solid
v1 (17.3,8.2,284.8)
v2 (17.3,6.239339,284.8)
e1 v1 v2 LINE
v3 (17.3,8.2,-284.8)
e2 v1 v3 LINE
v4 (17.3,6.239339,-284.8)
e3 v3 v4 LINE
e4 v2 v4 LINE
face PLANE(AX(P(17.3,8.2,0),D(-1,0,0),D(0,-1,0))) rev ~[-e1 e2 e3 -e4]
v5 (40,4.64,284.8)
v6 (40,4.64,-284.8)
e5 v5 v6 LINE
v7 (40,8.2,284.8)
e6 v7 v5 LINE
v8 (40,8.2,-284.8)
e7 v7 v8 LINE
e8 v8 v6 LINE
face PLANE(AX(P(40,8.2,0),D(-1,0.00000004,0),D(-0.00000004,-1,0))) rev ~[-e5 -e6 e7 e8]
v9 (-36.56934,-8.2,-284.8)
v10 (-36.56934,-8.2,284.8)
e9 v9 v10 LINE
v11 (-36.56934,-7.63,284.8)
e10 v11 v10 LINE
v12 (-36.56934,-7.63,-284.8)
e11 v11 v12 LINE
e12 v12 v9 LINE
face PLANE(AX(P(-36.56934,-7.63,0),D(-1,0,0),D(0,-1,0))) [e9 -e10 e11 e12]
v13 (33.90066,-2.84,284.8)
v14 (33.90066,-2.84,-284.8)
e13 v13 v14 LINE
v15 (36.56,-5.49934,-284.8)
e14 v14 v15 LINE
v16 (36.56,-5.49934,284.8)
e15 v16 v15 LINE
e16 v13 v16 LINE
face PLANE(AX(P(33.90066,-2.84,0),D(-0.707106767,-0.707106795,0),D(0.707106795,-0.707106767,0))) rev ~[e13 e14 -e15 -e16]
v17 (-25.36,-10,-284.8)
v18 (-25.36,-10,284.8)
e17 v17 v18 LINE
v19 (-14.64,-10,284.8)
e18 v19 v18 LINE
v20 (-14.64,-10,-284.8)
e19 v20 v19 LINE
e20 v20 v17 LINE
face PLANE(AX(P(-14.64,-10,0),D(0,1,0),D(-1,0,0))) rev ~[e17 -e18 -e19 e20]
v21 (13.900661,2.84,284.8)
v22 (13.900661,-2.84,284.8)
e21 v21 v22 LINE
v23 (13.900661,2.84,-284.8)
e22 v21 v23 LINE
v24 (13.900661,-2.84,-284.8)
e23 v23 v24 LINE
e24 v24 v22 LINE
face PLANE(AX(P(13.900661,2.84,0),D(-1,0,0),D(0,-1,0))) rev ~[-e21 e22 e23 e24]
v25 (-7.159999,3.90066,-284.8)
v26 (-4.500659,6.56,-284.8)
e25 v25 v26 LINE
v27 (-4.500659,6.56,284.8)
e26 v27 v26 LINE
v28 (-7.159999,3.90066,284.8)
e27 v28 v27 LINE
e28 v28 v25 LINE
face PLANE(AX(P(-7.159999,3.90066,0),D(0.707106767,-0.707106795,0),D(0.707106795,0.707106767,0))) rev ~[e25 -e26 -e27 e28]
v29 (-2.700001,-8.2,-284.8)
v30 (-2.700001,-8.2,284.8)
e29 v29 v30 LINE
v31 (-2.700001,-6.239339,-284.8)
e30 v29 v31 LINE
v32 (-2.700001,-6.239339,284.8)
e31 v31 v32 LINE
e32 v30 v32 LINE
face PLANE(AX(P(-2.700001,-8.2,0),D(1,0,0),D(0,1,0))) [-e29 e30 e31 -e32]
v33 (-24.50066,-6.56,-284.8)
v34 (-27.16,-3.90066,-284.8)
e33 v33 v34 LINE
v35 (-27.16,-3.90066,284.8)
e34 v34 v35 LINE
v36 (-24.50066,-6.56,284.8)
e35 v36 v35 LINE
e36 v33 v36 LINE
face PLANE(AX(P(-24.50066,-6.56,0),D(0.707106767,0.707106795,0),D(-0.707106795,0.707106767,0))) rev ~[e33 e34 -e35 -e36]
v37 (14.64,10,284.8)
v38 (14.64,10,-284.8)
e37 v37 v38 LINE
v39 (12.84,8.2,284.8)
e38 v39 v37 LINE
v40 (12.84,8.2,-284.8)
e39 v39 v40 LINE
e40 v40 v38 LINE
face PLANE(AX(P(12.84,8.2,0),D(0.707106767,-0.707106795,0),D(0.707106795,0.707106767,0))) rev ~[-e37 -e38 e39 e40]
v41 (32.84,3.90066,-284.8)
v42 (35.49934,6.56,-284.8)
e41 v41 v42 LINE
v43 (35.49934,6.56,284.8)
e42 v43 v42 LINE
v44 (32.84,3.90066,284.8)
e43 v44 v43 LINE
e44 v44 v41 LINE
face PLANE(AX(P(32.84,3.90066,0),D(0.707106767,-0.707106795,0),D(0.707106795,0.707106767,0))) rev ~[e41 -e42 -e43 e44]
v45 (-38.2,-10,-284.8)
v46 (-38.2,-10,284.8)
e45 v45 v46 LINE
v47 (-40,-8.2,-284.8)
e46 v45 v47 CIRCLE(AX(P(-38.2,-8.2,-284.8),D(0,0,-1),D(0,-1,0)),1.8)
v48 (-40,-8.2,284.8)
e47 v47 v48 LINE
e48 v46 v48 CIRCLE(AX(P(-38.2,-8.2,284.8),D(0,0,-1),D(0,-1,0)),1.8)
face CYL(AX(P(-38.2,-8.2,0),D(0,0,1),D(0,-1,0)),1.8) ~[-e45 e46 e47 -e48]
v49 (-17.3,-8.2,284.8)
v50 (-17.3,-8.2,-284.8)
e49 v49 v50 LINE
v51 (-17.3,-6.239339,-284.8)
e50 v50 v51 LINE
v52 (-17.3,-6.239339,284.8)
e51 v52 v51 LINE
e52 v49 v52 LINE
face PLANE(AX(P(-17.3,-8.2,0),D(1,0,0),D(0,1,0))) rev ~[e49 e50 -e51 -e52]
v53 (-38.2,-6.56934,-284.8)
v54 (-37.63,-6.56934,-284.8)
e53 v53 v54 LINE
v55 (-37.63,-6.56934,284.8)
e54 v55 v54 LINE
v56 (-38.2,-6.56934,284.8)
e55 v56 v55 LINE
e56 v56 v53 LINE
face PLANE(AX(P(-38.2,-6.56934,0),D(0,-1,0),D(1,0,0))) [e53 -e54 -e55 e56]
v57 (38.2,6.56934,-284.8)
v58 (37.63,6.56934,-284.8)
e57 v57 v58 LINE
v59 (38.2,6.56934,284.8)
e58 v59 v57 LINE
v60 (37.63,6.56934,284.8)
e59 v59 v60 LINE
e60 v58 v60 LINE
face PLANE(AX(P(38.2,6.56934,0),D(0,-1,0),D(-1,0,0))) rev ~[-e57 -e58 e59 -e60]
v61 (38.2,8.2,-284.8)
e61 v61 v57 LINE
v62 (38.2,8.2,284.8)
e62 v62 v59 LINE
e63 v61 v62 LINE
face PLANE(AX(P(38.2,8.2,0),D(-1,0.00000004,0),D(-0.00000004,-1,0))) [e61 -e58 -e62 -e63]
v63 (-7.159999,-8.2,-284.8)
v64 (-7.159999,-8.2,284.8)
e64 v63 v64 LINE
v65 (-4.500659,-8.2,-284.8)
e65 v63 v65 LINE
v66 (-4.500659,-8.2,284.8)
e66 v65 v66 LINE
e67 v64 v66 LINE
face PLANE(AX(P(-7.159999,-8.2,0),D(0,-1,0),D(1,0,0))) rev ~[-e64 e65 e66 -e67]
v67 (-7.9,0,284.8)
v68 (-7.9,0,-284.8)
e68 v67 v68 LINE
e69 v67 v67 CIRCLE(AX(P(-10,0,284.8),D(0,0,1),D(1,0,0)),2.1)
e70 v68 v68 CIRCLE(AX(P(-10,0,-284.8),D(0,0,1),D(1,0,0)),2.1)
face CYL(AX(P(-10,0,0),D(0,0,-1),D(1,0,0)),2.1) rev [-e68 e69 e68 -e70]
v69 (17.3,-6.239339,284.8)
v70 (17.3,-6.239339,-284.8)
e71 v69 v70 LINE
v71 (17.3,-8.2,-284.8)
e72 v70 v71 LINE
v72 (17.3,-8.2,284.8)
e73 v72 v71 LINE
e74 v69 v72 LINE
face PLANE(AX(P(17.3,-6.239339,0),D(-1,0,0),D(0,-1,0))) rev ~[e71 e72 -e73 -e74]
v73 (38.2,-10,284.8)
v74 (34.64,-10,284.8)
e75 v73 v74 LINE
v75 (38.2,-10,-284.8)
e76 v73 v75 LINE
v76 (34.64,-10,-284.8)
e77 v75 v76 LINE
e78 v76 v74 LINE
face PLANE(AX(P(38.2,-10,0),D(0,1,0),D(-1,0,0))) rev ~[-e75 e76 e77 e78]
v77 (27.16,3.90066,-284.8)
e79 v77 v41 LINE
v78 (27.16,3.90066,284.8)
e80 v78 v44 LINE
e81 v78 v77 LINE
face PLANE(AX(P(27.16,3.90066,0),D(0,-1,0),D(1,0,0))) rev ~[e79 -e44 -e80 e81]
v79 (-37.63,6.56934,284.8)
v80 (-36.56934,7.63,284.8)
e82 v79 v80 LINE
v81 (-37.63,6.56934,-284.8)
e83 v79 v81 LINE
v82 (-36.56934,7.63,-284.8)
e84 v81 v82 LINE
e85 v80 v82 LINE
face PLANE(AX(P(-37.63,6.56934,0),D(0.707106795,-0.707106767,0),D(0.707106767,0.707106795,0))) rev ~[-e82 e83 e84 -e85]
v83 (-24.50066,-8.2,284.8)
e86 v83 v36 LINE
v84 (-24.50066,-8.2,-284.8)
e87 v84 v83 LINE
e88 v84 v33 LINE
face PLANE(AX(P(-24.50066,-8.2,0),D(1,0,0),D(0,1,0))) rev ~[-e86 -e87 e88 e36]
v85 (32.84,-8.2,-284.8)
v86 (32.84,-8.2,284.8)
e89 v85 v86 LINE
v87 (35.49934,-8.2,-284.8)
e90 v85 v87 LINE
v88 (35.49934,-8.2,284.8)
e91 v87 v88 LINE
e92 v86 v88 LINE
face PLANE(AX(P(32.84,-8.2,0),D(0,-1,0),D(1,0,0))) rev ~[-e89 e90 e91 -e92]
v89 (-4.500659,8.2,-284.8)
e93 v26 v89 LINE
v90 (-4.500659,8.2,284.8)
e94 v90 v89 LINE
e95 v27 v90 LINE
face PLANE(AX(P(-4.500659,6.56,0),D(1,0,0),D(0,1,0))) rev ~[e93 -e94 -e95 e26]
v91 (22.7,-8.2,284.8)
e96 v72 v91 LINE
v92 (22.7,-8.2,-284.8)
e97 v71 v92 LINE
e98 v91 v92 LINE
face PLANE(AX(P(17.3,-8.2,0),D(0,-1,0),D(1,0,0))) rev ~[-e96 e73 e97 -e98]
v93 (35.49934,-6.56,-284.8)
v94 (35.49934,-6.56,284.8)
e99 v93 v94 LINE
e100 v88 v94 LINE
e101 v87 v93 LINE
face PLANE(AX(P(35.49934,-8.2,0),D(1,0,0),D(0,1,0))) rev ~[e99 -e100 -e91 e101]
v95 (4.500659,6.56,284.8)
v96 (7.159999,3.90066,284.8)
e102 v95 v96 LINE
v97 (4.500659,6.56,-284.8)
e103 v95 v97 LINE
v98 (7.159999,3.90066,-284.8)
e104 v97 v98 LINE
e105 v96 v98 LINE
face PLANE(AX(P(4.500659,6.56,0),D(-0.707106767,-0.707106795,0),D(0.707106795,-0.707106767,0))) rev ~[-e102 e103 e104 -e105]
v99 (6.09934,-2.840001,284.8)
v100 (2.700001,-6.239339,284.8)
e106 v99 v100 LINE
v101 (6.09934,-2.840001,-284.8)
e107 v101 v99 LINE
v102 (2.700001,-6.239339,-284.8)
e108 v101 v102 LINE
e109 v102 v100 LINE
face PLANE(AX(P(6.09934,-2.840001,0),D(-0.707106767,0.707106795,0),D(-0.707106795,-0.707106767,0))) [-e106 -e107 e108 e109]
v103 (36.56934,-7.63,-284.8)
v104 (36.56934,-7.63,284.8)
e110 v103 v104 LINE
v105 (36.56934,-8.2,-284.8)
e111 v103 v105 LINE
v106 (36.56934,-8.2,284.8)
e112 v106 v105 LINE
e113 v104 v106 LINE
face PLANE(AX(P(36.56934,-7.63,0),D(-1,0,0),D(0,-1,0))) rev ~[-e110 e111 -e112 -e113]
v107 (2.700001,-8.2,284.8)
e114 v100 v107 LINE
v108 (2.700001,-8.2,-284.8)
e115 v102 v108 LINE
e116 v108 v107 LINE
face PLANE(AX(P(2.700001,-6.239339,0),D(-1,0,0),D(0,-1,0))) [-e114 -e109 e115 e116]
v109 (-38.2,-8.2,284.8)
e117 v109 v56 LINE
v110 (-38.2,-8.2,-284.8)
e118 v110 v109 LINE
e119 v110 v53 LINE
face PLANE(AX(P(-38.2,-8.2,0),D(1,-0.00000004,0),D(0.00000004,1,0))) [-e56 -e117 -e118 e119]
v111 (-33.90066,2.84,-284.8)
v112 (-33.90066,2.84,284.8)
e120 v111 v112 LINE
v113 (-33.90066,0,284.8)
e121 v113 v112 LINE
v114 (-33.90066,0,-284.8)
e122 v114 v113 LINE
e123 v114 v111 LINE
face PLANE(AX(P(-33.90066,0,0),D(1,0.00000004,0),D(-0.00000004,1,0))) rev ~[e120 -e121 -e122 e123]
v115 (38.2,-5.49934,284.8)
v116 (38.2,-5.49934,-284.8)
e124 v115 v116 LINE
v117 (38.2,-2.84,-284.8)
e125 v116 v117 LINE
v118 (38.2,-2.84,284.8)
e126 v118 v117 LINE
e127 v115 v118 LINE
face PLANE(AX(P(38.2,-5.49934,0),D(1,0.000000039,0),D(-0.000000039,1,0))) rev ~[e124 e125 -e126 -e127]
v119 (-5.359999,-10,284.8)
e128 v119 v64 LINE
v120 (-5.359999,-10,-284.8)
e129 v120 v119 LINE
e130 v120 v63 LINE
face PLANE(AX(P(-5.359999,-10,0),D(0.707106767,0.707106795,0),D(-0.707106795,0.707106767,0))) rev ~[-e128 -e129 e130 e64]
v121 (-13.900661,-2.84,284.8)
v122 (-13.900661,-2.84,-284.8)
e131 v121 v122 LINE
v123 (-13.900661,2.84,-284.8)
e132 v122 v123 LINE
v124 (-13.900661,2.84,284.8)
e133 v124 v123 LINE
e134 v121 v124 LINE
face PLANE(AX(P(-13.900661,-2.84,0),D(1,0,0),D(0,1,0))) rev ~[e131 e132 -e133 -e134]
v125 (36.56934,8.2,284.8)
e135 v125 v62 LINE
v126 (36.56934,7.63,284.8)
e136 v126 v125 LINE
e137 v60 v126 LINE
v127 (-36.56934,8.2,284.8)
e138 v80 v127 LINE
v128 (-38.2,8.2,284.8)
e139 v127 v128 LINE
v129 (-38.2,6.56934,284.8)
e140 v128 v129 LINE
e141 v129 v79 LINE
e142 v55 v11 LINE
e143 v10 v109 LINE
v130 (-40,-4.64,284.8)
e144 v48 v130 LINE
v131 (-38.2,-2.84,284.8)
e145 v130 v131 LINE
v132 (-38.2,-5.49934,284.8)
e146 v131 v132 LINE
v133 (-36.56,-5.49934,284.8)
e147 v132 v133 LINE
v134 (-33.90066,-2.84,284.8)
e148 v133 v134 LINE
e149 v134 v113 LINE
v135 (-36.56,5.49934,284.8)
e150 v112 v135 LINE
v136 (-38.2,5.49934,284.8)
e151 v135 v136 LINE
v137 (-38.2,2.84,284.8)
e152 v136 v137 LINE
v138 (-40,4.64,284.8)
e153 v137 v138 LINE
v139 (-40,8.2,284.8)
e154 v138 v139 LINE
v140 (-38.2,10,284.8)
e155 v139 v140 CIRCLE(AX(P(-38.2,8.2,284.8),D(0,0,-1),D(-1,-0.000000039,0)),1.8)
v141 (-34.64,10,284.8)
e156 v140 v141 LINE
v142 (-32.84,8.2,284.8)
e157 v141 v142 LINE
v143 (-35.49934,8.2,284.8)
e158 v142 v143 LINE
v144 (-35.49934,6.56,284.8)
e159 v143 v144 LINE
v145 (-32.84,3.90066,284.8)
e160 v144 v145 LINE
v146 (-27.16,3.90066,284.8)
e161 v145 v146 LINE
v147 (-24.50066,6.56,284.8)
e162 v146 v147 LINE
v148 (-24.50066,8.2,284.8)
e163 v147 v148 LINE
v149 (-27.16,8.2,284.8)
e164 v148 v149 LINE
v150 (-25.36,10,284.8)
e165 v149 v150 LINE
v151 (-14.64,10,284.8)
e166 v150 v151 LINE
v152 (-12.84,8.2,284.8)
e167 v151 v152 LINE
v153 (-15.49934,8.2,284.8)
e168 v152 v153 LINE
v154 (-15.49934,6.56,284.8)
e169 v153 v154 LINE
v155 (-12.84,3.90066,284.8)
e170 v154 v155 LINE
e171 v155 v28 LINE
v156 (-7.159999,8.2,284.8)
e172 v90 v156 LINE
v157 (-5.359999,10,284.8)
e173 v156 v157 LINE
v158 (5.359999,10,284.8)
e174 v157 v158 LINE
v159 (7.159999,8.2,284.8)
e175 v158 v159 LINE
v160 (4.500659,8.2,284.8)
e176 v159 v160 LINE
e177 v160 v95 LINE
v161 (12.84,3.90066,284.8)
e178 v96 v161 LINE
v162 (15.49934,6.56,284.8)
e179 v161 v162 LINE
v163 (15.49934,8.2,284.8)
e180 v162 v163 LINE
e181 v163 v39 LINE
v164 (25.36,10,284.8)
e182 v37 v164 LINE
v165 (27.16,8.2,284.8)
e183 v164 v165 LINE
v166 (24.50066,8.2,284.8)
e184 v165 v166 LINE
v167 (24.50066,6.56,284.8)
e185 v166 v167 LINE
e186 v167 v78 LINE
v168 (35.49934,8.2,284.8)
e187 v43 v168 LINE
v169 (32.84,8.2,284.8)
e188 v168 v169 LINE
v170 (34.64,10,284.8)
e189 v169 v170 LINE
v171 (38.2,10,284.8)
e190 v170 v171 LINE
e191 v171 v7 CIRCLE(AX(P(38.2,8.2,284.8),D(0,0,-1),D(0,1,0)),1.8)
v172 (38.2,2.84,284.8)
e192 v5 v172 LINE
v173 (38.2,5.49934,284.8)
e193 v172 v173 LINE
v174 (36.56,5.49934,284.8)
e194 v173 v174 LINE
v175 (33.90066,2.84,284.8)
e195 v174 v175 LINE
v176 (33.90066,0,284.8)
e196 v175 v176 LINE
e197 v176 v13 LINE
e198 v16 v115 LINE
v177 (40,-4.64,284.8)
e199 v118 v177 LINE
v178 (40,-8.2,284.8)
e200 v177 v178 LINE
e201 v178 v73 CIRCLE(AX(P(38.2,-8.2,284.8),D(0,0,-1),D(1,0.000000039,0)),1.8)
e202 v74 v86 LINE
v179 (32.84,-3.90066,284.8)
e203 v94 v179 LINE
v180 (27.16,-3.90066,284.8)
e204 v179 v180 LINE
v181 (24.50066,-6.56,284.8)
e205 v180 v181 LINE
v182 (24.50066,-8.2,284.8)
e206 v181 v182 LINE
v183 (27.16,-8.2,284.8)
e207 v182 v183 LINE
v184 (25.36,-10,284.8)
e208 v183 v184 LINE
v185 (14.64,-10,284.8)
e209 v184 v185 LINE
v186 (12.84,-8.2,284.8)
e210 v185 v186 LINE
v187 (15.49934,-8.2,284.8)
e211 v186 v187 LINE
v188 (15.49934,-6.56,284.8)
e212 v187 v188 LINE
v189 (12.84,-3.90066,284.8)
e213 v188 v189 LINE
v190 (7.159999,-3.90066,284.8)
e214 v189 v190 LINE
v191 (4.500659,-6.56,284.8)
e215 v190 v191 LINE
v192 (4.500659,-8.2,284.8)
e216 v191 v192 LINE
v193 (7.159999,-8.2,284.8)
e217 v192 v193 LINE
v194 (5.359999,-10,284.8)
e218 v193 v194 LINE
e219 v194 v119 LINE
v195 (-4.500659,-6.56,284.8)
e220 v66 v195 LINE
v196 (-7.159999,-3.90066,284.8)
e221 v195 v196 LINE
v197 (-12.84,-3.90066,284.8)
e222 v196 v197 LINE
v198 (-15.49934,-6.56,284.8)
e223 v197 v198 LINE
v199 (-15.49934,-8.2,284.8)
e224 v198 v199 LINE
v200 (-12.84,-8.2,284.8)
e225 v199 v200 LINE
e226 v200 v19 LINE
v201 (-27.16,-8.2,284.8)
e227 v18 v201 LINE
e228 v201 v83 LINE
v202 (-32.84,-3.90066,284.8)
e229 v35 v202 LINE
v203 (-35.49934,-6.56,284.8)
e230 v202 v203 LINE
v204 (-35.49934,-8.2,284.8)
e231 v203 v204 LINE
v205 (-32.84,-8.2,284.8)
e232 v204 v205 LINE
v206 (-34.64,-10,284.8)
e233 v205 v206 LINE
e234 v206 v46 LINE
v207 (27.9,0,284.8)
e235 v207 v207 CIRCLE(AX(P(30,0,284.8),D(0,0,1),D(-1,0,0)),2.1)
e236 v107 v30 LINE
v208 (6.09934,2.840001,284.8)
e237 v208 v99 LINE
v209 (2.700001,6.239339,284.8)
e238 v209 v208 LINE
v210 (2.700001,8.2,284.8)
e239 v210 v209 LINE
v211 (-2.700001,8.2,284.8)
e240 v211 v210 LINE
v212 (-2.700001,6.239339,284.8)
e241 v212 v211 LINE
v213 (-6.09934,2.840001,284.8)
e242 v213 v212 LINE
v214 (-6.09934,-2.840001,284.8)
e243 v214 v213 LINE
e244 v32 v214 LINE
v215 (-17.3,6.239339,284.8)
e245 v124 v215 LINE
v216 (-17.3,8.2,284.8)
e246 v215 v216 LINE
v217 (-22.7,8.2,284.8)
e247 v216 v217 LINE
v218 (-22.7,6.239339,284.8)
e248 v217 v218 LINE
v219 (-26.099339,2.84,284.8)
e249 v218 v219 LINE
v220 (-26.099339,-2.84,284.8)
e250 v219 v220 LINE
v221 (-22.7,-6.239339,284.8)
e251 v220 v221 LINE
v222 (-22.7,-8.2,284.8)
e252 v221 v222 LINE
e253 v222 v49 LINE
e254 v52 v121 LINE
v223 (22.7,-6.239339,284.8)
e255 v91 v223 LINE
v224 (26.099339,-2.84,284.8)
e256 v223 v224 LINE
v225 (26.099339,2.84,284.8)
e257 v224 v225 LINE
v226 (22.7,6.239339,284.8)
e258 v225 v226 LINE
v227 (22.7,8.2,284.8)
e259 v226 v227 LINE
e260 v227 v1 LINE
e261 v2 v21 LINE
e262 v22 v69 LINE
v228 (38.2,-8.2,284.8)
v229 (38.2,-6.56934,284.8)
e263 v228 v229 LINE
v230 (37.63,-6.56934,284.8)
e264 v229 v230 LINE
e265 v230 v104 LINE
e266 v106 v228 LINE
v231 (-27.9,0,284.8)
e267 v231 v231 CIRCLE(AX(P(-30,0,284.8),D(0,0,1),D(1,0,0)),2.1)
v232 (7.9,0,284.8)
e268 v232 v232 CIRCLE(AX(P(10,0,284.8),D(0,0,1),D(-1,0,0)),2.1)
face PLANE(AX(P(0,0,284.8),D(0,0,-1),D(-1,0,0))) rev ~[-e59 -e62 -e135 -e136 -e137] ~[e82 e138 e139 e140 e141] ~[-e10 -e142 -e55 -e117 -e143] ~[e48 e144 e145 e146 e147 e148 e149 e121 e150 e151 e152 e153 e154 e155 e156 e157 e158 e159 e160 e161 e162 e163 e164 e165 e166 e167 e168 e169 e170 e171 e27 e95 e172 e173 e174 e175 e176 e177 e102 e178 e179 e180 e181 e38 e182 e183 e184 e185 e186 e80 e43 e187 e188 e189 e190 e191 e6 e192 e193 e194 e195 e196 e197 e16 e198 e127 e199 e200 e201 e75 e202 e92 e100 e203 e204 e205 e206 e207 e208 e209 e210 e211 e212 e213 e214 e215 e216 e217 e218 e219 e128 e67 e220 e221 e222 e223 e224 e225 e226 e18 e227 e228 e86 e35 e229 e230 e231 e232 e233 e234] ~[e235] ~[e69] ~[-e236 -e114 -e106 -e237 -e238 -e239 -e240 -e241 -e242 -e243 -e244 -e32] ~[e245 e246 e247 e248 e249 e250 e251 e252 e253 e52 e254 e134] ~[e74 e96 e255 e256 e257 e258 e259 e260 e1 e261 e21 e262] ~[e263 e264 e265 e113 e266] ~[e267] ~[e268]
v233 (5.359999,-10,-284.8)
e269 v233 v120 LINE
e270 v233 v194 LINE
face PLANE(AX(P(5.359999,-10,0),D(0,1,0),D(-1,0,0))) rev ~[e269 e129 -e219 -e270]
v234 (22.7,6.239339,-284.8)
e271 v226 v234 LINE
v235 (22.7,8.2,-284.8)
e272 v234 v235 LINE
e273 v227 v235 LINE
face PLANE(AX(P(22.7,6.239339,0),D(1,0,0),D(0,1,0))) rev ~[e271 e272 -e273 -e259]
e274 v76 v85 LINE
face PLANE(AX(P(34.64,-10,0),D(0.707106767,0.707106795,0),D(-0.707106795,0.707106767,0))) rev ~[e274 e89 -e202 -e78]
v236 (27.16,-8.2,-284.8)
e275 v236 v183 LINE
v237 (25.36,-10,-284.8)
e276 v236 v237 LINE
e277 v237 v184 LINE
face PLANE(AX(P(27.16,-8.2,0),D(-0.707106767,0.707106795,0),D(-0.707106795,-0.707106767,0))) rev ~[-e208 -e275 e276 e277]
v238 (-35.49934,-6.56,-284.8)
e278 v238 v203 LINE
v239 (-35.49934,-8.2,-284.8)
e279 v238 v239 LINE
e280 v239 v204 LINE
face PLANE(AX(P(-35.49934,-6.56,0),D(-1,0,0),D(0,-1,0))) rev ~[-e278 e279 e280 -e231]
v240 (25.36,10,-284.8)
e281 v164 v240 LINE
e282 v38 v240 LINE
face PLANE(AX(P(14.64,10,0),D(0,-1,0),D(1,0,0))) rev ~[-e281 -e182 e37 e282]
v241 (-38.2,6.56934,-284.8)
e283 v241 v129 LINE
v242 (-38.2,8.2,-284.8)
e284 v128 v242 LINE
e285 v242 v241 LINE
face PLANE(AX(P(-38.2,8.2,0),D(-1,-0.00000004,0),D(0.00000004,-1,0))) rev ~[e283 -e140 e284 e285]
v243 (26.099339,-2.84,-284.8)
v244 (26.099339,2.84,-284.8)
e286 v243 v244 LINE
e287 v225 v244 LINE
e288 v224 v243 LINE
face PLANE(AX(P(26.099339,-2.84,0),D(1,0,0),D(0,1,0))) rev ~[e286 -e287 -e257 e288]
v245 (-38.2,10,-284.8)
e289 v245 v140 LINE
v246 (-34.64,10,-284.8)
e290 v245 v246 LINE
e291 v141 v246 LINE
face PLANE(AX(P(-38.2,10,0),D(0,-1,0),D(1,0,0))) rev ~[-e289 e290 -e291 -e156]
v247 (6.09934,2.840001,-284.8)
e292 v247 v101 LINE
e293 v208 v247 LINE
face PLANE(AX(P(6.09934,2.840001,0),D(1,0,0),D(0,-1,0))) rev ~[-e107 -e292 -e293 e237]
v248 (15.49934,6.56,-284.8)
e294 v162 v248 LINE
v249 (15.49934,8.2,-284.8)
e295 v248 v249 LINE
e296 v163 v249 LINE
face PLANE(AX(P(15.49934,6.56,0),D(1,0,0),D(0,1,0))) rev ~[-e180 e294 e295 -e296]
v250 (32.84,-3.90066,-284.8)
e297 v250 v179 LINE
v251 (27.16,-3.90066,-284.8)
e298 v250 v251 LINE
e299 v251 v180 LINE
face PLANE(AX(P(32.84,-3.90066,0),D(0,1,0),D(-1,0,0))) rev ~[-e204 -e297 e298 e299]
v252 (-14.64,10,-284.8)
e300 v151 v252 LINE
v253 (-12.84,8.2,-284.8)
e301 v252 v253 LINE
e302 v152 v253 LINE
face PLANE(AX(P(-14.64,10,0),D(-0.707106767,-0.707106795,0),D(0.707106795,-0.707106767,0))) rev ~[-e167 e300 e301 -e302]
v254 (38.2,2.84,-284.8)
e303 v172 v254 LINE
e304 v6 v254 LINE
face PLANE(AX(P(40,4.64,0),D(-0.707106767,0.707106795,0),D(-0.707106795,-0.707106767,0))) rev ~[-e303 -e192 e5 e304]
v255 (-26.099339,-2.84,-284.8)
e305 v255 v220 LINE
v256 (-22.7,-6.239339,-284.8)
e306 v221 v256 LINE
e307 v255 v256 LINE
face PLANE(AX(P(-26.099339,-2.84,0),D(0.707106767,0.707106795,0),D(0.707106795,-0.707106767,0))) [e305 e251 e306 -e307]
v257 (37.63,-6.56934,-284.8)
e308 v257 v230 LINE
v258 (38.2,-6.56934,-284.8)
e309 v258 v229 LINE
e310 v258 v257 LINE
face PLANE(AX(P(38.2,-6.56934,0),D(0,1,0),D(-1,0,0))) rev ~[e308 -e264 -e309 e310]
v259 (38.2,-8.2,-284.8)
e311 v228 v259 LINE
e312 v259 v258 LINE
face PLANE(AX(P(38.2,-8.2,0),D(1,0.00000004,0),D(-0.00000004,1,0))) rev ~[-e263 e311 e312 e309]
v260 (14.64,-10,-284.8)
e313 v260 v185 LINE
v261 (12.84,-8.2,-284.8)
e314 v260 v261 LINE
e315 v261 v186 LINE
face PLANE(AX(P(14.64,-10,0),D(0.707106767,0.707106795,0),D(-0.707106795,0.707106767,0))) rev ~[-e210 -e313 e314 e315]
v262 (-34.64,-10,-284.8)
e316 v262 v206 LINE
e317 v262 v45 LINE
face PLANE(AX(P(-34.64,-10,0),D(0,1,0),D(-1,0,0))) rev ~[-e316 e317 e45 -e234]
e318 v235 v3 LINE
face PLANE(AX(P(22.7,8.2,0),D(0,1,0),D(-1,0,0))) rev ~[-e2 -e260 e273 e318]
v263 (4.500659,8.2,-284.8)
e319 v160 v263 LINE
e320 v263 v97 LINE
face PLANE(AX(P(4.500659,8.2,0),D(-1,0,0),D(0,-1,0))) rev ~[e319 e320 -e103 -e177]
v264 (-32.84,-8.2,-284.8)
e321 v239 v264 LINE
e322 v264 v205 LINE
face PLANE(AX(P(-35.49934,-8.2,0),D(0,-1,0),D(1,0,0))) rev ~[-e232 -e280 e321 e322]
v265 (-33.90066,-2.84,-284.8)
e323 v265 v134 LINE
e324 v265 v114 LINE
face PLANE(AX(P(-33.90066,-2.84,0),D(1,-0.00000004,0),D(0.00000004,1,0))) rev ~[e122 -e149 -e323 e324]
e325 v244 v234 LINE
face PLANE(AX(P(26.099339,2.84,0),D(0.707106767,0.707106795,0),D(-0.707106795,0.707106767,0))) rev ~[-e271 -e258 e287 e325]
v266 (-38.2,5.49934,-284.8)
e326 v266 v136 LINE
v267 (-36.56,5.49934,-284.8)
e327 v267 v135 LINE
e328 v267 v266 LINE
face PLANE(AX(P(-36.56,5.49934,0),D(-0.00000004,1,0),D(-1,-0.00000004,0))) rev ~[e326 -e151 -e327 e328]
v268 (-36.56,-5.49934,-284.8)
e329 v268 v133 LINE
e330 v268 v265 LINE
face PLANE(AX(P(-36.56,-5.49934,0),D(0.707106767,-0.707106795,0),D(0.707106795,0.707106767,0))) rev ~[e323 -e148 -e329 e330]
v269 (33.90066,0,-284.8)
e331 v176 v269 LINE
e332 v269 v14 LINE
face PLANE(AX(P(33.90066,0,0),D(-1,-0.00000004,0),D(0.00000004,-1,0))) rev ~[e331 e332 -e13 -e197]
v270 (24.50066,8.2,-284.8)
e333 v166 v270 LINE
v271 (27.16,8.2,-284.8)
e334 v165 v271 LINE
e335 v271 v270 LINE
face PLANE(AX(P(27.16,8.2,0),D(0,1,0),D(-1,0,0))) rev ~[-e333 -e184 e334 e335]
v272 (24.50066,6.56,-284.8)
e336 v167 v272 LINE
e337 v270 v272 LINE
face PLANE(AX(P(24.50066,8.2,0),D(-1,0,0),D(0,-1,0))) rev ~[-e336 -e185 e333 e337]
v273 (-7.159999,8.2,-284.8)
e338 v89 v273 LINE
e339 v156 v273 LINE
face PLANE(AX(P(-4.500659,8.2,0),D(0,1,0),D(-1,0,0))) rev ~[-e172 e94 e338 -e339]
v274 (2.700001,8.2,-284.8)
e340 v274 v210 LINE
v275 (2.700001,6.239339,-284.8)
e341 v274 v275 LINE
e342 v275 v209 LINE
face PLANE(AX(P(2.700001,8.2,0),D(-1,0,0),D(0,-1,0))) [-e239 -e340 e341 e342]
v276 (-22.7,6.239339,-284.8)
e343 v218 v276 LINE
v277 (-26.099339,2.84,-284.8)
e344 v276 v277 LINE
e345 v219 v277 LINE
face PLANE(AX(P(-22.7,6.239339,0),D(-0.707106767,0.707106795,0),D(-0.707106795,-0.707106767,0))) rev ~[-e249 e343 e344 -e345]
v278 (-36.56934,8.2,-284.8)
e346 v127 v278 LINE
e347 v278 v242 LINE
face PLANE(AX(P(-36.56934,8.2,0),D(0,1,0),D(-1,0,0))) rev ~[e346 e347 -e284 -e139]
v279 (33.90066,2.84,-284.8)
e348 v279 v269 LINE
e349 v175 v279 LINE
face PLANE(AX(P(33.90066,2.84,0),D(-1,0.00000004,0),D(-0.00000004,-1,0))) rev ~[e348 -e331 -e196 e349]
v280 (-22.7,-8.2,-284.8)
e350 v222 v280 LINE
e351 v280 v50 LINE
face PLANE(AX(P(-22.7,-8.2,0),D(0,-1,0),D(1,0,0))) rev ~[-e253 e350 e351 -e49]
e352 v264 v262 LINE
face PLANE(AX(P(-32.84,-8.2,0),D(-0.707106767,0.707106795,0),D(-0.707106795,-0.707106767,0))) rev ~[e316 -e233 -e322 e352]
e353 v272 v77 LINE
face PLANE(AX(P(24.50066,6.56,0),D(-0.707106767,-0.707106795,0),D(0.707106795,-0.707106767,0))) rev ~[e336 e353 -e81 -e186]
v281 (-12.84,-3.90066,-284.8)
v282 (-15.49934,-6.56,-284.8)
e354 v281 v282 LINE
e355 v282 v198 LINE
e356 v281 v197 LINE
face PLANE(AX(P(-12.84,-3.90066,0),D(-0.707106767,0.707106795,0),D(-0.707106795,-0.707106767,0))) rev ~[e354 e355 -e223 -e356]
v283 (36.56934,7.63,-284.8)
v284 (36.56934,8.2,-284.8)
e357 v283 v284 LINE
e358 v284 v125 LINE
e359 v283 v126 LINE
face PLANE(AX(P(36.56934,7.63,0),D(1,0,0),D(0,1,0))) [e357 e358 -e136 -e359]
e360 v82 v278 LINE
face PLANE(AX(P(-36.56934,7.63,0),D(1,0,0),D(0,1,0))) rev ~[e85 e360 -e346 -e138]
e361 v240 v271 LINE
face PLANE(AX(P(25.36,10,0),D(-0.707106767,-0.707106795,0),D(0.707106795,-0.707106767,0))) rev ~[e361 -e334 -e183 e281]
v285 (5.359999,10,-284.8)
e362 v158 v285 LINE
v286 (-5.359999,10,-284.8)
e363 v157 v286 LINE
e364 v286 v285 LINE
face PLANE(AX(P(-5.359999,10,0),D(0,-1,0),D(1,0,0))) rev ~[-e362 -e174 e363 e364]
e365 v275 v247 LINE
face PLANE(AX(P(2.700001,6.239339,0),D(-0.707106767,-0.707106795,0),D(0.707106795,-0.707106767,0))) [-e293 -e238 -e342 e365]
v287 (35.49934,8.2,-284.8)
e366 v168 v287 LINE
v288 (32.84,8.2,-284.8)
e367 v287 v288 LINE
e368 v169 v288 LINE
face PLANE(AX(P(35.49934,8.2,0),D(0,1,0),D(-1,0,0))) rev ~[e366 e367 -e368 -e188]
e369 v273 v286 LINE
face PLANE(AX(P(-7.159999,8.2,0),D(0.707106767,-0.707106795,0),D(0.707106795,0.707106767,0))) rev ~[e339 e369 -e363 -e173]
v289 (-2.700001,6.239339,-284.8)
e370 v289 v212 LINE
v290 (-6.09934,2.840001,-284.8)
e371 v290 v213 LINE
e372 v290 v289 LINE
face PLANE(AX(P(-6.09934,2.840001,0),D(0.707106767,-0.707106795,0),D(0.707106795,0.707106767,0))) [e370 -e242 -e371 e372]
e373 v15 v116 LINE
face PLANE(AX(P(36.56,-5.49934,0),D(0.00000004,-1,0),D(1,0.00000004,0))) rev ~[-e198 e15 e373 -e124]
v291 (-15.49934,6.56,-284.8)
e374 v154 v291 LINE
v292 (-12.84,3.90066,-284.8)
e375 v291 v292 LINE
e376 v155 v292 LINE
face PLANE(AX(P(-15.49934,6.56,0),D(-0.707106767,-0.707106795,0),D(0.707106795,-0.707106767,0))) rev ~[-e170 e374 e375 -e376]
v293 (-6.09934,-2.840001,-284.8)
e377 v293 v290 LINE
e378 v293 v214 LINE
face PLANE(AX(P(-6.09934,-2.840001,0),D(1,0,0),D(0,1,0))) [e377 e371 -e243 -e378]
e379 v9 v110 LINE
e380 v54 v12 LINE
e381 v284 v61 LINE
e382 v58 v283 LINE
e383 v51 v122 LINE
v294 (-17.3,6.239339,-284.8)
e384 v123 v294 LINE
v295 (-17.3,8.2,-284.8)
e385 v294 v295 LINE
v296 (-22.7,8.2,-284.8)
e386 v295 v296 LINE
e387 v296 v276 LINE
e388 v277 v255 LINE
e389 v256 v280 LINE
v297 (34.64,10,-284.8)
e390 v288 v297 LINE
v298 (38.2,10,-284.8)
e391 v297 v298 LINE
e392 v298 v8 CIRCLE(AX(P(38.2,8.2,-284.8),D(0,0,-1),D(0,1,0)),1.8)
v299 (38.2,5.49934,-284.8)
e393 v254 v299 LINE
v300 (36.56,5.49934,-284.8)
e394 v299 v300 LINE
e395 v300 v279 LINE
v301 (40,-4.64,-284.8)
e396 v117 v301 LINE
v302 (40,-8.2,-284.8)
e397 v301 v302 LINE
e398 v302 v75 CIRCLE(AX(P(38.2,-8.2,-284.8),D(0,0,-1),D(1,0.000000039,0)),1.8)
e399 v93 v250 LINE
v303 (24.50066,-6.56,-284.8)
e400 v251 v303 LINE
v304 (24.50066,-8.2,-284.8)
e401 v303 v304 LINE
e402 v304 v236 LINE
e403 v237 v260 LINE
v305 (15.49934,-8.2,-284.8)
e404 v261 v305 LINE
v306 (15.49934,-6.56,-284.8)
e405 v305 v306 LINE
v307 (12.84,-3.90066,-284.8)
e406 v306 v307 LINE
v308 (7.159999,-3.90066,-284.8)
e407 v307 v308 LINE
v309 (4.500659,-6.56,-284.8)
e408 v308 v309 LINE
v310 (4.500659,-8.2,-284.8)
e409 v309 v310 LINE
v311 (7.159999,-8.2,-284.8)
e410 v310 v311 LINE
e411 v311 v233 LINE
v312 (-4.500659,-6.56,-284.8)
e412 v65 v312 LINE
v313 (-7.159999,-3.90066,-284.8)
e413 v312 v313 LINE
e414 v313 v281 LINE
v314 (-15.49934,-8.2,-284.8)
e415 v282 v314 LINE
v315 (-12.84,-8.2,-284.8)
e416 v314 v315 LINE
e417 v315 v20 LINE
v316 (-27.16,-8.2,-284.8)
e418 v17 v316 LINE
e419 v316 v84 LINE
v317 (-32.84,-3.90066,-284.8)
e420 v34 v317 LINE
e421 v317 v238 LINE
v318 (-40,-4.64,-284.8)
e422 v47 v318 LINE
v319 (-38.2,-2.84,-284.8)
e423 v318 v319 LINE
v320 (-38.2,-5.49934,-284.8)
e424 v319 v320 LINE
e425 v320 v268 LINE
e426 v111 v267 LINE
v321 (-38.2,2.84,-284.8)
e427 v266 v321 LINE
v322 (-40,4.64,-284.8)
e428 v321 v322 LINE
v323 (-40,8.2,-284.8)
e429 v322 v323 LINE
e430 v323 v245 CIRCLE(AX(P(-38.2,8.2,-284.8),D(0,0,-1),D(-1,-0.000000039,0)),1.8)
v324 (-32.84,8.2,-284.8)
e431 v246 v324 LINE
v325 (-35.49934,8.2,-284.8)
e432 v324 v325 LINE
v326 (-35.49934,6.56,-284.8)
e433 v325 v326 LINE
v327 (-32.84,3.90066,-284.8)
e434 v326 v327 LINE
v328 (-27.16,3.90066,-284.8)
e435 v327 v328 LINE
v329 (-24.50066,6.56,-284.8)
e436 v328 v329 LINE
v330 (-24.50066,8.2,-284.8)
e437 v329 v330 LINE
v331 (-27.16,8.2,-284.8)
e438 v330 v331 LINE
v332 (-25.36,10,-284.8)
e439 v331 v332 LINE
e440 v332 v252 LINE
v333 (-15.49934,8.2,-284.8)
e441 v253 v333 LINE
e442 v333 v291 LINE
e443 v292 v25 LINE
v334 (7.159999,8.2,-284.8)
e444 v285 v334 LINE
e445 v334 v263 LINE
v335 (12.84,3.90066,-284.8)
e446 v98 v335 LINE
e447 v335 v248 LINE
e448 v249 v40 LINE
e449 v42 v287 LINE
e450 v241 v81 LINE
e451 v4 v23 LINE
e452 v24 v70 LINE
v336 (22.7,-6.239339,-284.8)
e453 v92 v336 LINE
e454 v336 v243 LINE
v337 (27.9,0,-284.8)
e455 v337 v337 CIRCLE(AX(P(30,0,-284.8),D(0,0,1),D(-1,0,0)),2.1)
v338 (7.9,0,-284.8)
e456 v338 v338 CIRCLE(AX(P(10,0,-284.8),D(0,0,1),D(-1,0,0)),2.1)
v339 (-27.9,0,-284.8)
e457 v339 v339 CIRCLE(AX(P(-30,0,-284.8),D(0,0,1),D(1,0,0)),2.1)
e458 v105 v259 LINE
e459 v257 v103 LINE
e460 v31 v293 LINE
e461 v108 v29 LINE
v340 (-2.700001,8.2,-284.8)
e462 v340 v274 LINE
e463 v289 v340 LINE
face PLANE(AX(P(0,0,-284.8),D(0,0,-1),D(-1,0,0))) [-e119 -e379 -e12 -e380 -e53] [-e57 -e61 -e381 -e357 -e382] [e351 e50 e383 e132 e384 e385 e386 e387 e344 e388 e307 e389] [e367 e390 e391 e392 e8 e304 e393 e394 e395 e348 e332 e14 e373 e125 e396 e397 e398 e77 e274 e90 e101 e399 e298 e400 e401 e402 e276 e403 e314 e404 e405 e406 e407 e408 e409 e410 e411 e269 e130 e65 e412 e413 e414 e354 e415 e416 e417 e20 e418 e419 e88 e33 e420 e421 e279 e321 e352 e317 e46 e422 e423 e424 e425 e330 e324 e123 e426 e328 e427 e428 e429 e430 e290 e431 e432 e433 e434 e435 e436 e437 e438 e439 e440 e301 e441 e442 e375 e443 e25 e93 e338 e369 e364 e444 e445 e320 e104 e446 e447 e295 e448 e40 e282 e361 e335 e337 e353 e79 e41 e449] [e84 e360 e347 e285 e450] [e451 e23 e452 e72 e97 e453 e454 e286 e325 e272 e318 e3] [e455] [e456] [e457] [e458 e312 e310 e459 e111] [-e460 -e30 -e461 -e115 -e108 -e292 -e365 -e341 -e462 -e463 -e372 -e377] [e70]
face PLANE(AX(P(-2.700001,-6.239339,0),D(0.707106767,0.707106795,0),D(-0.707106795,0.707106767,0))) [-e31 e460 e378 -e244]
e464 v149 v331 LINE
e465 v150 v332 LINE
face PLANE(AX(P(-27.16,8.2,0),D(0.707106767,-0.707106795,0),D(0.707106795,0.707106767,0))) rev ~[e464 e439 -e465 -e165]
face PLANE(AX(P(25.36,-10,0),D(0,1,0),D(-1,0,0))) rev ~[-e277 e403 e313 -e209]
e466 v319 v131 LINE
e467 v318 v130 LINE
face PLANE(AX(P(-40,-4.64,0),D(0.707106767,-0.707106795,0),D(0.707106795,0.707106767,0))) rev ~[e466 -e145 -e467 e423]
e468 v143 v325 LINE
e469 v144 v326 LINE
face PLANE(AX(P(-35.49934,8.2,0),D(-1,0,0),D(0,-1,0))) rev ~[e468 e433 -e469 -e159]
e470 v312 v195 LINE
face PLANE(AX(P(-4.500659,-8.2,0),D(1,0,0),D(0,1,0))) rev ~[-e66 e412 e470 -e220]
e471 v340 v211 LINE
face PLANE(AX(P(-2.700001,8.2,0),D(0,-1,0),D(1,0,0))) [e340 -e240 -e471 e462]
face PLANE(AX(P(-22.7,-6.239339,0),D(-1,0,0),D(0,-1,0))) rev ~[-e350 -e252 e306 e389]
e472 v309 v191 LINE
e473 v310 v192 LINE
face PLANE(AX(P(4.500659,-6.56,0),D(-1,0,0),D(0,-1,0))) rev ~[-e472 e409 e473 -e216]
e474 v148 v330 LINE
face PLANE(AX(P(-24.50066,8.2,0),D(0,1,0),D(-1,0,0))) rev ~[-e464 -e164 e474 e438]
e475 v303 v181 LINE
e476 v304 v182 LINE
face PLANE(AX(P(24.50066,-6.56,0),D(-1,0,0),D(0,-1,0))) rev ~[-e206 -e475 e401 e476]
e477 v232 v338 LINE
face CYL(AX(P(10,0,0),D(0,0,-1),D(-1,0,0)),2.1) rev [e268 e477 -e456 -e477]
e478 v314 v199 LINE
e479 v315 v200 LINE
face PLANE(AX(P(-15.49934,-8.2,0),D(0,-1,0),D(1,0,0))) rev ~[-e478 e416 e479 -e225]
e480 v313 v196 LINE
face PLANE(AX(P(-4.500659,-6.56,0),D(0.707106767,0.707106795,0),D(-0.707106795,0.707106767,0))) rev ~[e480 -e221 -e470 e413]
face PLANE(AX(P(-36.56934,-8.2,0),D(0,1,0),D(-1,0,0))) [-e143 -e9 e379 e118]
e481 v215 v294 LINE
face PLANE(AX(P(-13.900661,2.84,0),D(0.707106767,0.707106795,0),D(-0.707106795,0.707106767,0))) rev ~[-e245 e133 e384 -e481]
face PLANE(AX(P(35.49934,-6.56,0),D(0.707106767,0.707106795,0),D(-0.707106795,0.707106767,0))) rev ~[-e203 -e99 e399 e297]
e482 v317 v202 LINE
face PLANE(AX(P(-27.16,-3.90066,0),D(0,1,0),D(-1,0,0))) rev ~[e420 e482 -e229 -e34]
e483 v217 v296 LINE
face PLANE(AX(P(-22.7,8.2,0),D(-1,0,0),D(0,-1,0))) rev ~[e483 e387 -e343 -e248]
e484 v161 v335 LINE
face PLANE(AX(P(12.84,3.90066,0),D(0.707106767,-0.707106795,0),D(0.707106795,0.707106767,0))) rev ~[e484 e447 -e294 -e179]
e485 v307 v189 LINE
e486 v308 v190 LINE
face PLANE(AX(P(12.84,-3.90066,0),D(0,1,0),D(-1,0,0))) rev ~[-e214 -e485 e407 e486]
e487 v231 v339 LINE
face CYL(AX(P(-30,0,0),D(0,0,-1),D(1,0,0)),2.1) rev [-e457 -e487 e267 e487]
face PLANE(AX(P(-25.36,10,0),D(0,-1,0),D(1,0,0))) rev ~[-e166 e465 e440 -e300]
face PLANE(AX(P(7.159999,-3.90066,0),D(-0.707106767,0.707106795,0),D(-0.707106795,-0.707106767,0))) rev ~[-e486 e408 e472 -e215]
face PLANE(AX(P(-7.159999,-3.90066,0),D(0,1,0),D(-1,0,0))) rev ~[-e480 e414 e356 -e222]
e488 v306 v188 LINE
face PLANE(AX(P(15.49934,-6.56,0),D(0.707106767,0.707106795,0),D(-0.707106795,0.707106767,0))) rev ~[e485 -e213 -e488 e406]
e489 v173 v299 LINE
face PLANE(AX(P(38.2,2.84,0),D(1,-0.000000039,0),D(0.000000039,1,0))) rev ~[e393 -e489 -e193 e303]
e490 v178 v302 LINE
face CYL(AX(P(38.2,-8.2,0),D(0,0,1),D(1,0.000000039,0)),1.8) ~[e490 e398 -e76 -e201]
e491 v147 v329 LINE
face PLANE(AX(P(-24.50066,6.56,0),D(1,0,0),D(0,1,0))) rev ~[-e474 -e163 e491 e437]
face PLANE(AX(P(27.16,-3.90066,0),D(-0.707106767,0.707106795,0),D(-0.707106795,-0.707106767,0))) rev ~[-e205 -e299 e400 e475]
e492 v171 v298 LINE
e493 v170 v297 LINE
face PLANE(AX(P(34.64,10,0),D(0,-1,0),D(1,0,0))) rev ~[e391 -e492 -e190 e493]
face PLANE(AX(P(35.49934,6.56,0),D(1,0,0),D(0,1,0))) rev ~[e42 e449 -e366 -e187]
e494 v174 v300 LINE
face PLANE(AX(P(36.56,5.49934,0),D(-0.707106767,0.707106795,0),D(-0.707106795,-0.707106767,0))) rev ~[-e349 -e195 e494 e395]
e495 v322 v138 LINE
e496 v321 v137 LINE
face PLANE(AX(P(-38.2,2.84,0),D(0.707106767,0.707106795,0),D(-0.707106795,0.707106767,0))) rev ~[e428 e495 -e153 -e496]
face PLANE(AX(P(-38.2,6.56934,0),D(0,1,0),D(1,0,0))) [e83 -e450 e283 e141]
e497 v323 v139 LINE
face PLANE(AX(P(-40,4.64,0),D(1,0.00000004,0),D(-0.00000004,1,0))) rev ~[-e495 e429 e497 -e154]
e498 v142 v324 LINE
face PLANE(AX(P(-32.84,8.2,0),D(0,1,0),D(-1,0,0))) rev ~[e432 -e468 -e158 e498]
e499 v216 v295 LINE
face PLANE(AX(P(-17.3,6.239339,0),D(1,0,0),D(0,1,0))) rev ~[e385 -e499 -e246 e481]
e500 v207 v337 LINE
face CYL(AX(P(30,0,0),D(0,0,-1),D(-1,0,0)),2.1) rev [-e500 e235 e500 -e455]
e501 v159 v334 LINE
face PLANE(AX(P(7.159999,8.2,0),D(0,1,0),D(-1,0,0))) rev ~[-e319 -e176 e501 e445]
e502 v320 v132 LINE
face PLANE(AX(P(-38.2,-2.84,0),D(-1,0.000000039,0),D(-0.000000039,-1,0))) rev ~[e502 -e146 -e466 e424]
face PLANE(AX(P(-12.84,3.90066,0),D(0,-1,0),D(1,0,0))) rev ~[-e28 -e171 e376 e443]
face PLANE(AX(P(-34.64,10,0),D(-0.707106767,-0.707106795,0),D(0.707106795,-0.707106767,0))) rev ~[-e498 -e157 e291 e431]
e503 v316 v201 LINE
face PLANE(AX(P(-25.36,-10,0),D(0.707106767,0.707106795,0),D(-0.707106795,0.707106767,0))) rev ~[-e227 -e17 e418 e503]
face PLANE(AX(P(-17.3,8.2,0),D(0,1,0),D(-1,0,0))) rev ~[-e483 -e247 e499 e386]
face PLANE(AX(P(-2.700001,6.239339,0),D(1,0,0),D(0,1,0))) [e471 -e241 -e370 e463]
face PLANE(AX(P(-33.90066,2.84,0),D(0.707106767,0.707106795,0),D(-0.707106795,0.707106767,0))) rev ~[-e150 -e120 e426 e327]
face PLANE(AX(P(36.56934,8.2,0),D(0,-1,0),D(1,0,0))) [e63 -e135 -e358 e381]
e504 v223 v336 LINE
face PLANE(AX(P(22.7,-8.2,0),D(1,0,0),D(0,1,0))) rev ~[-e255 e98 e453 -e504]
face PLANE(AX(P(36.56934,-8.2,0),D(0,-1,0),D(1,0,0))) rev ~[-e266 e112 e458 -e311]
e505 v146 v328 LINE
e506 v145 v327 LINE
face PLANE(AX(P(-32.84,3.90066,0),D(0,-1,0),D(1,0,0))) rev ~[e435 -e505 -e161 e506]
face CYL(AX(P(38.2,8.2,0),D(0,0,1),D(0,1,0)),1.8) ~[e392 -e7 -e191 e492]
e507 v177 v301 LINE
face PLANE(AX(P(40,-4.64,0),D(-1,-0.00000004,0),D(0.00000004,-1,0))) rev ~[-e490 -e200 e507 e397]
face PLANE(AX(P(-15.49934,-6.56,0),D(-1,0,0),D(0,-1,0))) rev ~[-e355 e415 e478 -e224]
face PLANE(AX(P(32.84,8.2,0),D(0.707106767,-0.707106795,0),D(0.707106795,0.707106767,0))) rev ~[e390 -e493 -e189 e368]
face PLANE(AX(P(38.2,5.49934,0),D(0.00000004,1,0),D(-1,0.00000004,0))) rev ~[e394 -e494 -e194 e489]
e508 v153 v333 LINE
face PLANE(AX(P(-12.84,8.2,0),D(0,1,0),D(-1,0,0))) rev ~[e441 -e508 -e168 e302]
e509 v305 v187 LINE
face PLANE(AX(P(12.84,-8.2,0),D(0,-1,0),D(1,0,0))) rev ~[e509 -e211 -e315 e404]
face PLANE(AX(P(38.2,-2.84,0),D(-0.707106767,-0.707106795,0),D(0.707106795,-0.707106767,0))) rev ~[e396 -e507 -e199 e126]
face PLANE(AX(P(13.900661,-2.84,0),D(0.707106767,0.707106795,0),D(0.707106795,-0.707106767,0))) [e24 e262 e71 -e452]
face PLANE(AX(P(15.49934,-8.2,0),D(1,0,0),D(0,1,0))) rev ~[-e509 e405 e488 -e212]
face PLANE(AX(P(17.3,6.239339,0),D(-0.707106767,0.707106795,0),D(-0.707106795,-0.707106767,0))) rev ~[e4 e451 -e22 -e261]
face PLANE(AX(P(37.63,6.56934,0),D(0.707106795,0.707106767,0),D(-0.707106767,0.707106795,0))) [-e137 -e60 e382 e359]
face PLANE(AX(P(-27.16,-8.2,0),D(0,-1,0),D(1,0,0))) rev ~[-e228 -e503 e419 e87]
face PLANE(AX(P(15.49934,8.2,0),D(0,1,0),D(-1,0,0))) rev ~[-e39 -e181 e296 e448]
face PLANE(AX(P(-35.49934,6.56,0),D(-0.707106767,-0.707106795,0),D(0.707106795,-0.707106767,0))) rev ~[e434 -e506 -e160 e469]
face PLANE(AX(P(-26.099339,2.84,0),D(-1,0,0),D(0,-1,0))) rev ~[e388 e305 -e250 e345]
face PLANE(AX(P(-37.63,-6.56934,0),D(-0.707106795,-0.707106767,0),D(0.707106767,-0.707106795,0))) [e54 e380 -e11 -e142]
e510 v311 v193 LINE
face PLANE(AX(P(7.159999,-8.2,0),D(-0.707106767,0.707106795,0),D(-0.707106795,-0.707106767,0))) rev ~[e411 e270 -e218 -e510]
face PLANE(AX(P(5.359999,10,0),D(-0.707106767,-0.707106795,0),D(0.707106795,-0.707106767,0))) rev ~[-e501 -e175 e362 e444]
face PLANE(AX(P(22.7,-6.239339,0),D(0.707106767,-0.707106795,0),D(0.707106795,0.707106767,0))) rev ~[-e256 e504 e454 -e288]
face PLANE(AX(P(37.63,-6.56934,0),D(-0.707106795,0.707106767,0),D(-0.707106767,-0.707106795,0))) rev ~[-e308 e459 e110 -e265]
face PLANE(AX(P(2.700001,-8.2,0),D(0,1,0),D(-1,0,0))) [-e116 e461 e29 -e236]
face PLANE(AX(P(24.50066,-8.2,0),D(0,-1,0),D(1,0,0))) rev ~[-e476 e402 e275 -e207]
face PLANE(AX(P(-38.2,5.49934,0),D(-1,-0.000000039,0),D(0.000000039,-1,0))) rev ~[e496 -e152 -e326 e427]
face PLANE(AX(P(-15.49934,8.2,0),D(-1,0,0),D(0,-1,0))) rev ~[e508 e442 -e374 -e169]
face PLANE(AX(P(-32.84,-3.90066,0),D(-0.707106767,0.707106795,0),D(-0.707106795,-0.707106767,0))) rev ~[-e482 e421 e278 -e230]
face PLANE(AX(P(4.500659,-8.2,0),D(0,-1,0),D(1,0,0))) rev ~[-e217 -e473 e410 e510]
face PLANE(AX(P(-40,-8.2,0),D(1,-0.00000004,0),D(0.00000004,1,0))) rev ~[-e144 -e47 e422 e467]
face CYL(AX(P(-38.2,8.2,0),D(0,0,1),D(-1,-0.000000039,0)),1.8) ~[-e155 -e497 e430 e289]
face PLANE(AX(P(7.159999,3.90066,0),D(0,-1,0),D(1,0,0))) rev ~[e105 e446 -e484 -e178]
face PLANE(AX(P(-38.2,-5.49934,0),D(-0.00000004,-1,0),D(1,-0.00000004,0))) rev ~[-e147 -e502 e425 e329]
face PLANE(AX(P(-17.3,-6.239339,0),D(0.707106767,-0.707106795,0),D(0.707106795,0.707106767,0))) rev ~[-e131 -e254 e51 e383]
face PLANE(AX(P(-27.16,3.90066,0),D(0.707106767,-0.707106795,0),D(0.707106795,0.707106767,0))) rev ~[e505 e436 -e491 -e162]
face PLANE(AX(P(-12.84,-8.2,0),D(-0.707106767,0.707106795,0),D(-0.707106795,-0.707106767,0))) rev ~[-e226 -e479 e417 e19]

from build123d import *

# Parameters (mm, degrees)
SKETCH1_R      = 2.1
EXTRUDE1_DEPTH = 284.8


with BuildPart() as part:
    # Sketch1 → Extrude1 (new, symmetric)
    with BuildSketch(Plane.XY):
        with BuildLine():
            Line((-38.199999929, 10), (-34.639999675, 10))
            Line((-34.639999675, 10), (-32.839999603, 8.2))
            Line((-32.839999603, 8.2), (-35.499339671, 8.2))
            Line((-35.499339671, 8.2), (-35.499339671, 6.56))
            Line((-35.499339671, 6.56), (-32.839999603, 3.900660038))
            Line((-32.839999603, 3.900660038), (-27.159999603, 3.900660038))
            Line((-27.159999603, 3.900660038), (-24.500659536, 6.56))
            Line((-24.500659536, 6.56), (-24.500659536, 8.2))
            Line((-24.500659536, 8.2), (-27.159999603, 8.2))
            Line((-27.159999603, 8.2), (-25.359999532, 10))
            Line((-25.359999532, 10), (-14.640000468, 10))
            Line((-14.640000468, 10), (-12.840000397, 8.2))
            Line((-12.840000397, 8.2), (-15.499340464, 8.2))
            Line((-15.499340464, 8.2), (-15.499340464, 6.56))
            Line((-15.499340464, 6.56), (-12.840000397, 3.900660038))
            Line((-12.840000397, 3.900660038), (-7.159998809, 3.900660038))
            Line((-7.159998809, 3.900660038), (-4.500658742, 6.56))
            Line((-4.500658742, 6.56), (-4.500658742, 8.2))
            Line((-4.500658742, 8.2), (-7.159998809, 8.2))
            Line((-7.159998809, 8.2), (-5.359998738, 10))
            Line((-5.359998738, 10), (5.359998738, 10))
            Line((5.359998738, 10), (7.159998809, 8.2))
            Line((7.159998809, 8.2), (4.500658742, 8.2))
            Line((4.500658742, 8.2), (4.500658742, 6.56))
            Line((4.500658742, 6.56), (7.159998809, 3.900660038))
            Line((7.159998809, 3.900660038), (12.840000397, 3.900660038))
            Line((12.840000397, 3.900660038), (15.499340464, 6.56))
            Line((15.499340464, 6.56), (15.499340464, 8.2))
            Line((15.499340464, 8.2), (12.840000397, 8.2))
            Line((12.840000397, 8.2), (14.640000468, 10))
            Line((14.640000468, 10), (25.359999532, 10))
            Line((25.359999532, 10), (27.159999603, 8.2))
            Line((27.159999603, 8.2), (24.500659536, 8.2))
            Line((24.500659536, 8.2), (24.500659536, 6.56))
            Line((24.500659536, 6.56), (27.159999603, 3.900660038))
            Line((27.159999603, 3.900660038), (32.839999603, 3.900660038))
            Line((32.839999603, 3.900660038), (35.499339671, 6.56))
            Line((35.499339671, 6.56), (35.499339671, 8.2))
            Line((35.499339671, 8.2), (32.839999603, 8.2))
            Line((32.839999603, 8.2), (34.639999675, 10))
            Line((34.639999675, 10), (38.199999929, 10))
            ThreePointArc((38.199999929, 10), (39.47279216, 9.472792181), (39.999999929, 8.199999929))
            Line((39.999999929, 8.199999929), (39.999999787, 4.639999675))
            Line((39.999999787, 4.639999675), (38.199999716, 2.839999675))
            Line((38.199999716, 2.839999675), (38.199999821, 5.499339742))
            Line((38.199999821, 5.499339742), (36.559999821, 5.499339807))
            Line((36.559999821, 5.499339807), (33.900659754, 2.839999845))
            Line((33.900659754, 2.839999845), (33.900659641, 0))
            Line((33.900659641, 0), (33.900659754, -2.839999845))
            Line((33.900659754, -2.839999845), (36.559999821, -5.499339807))
            Line((36.559999821, -5.499339807), (38.199999821, -5.499339742))
            Line((38.199999821, -5.499339742), (38.199999716, -2.839999675))
            Line((38.199999716, -2.839999675), (39.999999787, -4.639999675))
            Line((39.999999787, -4.639999675), (39.999999929, -8.199999929))
            ThreePointArc((39.999999929, -8.199999929), (39.47279216, -9.472792181), (38.199999929, -10))
            Line((38.199999929, -10), (34.639999675, -10))
            Line((34.639999675, -10), (32.839999603, -8.2))
            Line((32.839999603, -8.2), (35.499339671, -8.2))
            Line((35.499339671, -8.2), (35.499339671, -6.56))
            Line((35.499339671, -6.56), (32.839999603, -3.900660038))
            Line((32.839999603, -3.900660038), (27.159999603, -3.900660038))
            Line((27.159999603, -3.900660038), (24.500659536, -6.56))
            Line((24.500659536, -6.56), (24.500659536, -8.2))
            Line((24.500659536, -8.2), (27.159999603, -8.2))
            Line((27.159999603, -8.2), (25.359999532, -10))
            Line((25.359999532, -10), (14.640000468, -10))
            Line((14.640000468, -10), (12.840000397, -8.2))
            Line((12.840000397, -8.2), (15.499340464, -8.2))
            Line((15.499340464, -8.2), (15.499340464, -6.56))
            Line((15.499340464, -6.56), (12.840000397, -3.900660038))
            Line((12.840000397, -3.900660038), (7.159998809, -3.900660038))
            Line((7.159998809, -3.900660038), (4.500658742, -6.56))
            Line((4.500658742, -6.56), (4.500658742, -8.2))
            Line((4.500658742, -8.2), (7.159998809, -8.2))
            Line((7.159998809, -8.2), (5.359998738, -10))
            Line((5.359998738, -10), (-5.359998738, -10))
            Line((-5.359998738, -10), (-7.159998809, -8.2))
            Line((-7.159998809, -8.2), (-4.500658742, -8.2))
            Line((-4.500658742, -8.2), (-4.500658742, -6.56))
            Line((-4.500658742, -6.56), (-7.159998809, -3.900660038))
            Line((-7.159998809, -3.900660038), (-12.840000397, -3.900660038))
            Line((-12.840000397, -3.900660038), (-15.499340464, -6.56))
            Line((-15.499340464, -6.56), (-15.499340464, -8.2))
            Line((-15.499340464, -8.2), (-12.840000397, -8.2))
            Line((-12.840000397, -8.2), (-14.640000468, -10))
            Line((-14.640000468, -10), (-25.359999532, -10))
            Line((-25.359999532, -10), (-27.159999603, -8.2))
            Line((-27.159999603, -8.2), (-24.500659536, -8.2))
            Line((-24.500659536, -8.2), (-24.500659536, -6.56))
            Line((-24.500659536, -6.56), (-27.159999603, -3.900660038))
            Line((-27.159999603, -3.900660038), (-32.839999603, -3.900660038))
            Line((-32.839999603, -3.900660038), (-35.499339671, -6.56))
            Line((-35.499339671, -6.56), (-35.499339671, -8.2))
            Line((-35.499339671, -8.2), (-32.839999603, -8.2))
            Line((-32.839999603, -8.2), (-34.639999675, -10))
            Line((-34.639999675, -10), (-38.199999929, -10))
            ThreePointArc((-38.199999929, -10), (-39.47279216, -9.472792181), (-39.999999929, -8.199999929))
            Line((-39.999999929, -8.199999929), (-39.999999787, -4.639999675))
            Line((-39.999999787, -4.639999675), (-38.199999716, -2.839999675))
            Line((-38.199999716, -2.839999675), (-38.199999821, -5.499339742))
            Line((-38.199999821, -5.499339742), (-36.559999821, -5.499339807))
            Line((-36.559999821, -5.499339807), (-33.900659754, -2.839999845))
            Line((-33.900659754, -2.839999845), (-33.900659641, 0))
            Line((-33.900659641, 0), (-33.900659754, 2.839999845))
            Line((-33.900659754, 2.839999845), (-36.559999821, 5.499339807))
            Line((-36.559999821, 5.499339807), (-38.199999821, 5.499339742))
            Line((-38.199999821, 5.499339742), (-38.199999716, 2.839999675))
            Line((-38.199999716, 2.839999675), (-39.999999787, 4.639999675))
            Line((-39.999999787, 4.639999675), (-39.999999929, 8.199999929))
            ThreePointArc((-39.999999929, 8.199999929), (-39.47279216, 9.472792181), (-38.199999929, 10))
        make_face()
        with Locations((-29.999999603, 0)):
            Circle(SKETCH1_R, mode=Mode.SUBTRACT)
        with Locations((-9.999999603, 0)):
            Circle(SKETCH1_R, mode=Mode.SUBTRACT)
        with Locations(Location((29.999999603, 0, 0), (0, 0, 180))):
            Circle(SKETCH1_R, mode=Mode.SUBTRACT)
        with Locations(Location((9.999999603, 0, 0), (0, 0, 180))):
            Circle(SKETCH1_R, mode=Mode.SUBTRACT)
        Polygon((-38.199999929, 8.2), (-38.199999864, 6.569339742), (-37.629999799, 6.569339742), (-36.569339648, 7.629999935), (-36.569339648, 8.2), align=None, mode=Mode.SUBTRACT)
        Polygon((-17.3, 6.239339079), (-17.3, 8.2), (-22.7, 8.2), (-22.7, 6.239339079), (-26.099339368, 2.839999845), (-26.099339368, -2.839999845), (-22.7, -6.239339079), (-22.7, -8.2), (-17.3, -8.2), (-17.3, -6.239339079), (-13.900660632, -2.839999845), (-13.900660632, 2.839999845), align=None, mode=Mode.SUBTRACT)
        Polygon((-6.099339678, -2.840000949), (-6.099339678, 2.840000949), (-2.700001413, 6.239339079), (-2.700001413, 8.2), (2.700001413, 8.2), (2.700001413, 6.239339079), (6.099339678, 2.840000949), (6.099339678, -2.840000949), (2.700001413, -6.239339079), (2.700001413, -8.2), (-2.700001413, -8.2), (-2.700001413, -6.239339079), align=None, mode=Mode.SUBTRACT)
        Polygon((-36.569339648, -7.629999935), (-36.569339648, -8.2), (-38.199999929, -8.2), (-38.199999864, -6.569339742), (-37.629999799, -6.569339742), align=None, mode=Mode.SUBTRACT)
        Polygon((36.569339648, 8.2), (38.199999929, 8.2), (38.199999864, 6.569339742), (37.629999799, 6.569339742), (36.569339648, 7.629999935), align=None, mode=Mode.SUBTRACT)
        Polygon((36.569339648, -8.2), (38.199999929, -8.2), (38.199999864, -6.569339742), (37.629999799, -6.569339742), (36.569339648, -7.629999935), align=None, mode=Mode.SUBTRACT)
        Polygon((13.900660632, -2.839999845), (17.3, -6.239339079), (17.3, -8.2), (22.7, -8.2), (22.7, -6.239339079), (26.099339368, -2.839999845), (26.099339368, 2.839999845), (22.7, 6.239339079), (22.7, 8.2), (17.3, 8.2), (17.3, 6.239339079), (13.900660632, 2.839999845), align=None, mode=Mode.SUBTRACT)
    extrude(amount=EXTRUDE1_DEPTH, both=True)


solid = part.part
